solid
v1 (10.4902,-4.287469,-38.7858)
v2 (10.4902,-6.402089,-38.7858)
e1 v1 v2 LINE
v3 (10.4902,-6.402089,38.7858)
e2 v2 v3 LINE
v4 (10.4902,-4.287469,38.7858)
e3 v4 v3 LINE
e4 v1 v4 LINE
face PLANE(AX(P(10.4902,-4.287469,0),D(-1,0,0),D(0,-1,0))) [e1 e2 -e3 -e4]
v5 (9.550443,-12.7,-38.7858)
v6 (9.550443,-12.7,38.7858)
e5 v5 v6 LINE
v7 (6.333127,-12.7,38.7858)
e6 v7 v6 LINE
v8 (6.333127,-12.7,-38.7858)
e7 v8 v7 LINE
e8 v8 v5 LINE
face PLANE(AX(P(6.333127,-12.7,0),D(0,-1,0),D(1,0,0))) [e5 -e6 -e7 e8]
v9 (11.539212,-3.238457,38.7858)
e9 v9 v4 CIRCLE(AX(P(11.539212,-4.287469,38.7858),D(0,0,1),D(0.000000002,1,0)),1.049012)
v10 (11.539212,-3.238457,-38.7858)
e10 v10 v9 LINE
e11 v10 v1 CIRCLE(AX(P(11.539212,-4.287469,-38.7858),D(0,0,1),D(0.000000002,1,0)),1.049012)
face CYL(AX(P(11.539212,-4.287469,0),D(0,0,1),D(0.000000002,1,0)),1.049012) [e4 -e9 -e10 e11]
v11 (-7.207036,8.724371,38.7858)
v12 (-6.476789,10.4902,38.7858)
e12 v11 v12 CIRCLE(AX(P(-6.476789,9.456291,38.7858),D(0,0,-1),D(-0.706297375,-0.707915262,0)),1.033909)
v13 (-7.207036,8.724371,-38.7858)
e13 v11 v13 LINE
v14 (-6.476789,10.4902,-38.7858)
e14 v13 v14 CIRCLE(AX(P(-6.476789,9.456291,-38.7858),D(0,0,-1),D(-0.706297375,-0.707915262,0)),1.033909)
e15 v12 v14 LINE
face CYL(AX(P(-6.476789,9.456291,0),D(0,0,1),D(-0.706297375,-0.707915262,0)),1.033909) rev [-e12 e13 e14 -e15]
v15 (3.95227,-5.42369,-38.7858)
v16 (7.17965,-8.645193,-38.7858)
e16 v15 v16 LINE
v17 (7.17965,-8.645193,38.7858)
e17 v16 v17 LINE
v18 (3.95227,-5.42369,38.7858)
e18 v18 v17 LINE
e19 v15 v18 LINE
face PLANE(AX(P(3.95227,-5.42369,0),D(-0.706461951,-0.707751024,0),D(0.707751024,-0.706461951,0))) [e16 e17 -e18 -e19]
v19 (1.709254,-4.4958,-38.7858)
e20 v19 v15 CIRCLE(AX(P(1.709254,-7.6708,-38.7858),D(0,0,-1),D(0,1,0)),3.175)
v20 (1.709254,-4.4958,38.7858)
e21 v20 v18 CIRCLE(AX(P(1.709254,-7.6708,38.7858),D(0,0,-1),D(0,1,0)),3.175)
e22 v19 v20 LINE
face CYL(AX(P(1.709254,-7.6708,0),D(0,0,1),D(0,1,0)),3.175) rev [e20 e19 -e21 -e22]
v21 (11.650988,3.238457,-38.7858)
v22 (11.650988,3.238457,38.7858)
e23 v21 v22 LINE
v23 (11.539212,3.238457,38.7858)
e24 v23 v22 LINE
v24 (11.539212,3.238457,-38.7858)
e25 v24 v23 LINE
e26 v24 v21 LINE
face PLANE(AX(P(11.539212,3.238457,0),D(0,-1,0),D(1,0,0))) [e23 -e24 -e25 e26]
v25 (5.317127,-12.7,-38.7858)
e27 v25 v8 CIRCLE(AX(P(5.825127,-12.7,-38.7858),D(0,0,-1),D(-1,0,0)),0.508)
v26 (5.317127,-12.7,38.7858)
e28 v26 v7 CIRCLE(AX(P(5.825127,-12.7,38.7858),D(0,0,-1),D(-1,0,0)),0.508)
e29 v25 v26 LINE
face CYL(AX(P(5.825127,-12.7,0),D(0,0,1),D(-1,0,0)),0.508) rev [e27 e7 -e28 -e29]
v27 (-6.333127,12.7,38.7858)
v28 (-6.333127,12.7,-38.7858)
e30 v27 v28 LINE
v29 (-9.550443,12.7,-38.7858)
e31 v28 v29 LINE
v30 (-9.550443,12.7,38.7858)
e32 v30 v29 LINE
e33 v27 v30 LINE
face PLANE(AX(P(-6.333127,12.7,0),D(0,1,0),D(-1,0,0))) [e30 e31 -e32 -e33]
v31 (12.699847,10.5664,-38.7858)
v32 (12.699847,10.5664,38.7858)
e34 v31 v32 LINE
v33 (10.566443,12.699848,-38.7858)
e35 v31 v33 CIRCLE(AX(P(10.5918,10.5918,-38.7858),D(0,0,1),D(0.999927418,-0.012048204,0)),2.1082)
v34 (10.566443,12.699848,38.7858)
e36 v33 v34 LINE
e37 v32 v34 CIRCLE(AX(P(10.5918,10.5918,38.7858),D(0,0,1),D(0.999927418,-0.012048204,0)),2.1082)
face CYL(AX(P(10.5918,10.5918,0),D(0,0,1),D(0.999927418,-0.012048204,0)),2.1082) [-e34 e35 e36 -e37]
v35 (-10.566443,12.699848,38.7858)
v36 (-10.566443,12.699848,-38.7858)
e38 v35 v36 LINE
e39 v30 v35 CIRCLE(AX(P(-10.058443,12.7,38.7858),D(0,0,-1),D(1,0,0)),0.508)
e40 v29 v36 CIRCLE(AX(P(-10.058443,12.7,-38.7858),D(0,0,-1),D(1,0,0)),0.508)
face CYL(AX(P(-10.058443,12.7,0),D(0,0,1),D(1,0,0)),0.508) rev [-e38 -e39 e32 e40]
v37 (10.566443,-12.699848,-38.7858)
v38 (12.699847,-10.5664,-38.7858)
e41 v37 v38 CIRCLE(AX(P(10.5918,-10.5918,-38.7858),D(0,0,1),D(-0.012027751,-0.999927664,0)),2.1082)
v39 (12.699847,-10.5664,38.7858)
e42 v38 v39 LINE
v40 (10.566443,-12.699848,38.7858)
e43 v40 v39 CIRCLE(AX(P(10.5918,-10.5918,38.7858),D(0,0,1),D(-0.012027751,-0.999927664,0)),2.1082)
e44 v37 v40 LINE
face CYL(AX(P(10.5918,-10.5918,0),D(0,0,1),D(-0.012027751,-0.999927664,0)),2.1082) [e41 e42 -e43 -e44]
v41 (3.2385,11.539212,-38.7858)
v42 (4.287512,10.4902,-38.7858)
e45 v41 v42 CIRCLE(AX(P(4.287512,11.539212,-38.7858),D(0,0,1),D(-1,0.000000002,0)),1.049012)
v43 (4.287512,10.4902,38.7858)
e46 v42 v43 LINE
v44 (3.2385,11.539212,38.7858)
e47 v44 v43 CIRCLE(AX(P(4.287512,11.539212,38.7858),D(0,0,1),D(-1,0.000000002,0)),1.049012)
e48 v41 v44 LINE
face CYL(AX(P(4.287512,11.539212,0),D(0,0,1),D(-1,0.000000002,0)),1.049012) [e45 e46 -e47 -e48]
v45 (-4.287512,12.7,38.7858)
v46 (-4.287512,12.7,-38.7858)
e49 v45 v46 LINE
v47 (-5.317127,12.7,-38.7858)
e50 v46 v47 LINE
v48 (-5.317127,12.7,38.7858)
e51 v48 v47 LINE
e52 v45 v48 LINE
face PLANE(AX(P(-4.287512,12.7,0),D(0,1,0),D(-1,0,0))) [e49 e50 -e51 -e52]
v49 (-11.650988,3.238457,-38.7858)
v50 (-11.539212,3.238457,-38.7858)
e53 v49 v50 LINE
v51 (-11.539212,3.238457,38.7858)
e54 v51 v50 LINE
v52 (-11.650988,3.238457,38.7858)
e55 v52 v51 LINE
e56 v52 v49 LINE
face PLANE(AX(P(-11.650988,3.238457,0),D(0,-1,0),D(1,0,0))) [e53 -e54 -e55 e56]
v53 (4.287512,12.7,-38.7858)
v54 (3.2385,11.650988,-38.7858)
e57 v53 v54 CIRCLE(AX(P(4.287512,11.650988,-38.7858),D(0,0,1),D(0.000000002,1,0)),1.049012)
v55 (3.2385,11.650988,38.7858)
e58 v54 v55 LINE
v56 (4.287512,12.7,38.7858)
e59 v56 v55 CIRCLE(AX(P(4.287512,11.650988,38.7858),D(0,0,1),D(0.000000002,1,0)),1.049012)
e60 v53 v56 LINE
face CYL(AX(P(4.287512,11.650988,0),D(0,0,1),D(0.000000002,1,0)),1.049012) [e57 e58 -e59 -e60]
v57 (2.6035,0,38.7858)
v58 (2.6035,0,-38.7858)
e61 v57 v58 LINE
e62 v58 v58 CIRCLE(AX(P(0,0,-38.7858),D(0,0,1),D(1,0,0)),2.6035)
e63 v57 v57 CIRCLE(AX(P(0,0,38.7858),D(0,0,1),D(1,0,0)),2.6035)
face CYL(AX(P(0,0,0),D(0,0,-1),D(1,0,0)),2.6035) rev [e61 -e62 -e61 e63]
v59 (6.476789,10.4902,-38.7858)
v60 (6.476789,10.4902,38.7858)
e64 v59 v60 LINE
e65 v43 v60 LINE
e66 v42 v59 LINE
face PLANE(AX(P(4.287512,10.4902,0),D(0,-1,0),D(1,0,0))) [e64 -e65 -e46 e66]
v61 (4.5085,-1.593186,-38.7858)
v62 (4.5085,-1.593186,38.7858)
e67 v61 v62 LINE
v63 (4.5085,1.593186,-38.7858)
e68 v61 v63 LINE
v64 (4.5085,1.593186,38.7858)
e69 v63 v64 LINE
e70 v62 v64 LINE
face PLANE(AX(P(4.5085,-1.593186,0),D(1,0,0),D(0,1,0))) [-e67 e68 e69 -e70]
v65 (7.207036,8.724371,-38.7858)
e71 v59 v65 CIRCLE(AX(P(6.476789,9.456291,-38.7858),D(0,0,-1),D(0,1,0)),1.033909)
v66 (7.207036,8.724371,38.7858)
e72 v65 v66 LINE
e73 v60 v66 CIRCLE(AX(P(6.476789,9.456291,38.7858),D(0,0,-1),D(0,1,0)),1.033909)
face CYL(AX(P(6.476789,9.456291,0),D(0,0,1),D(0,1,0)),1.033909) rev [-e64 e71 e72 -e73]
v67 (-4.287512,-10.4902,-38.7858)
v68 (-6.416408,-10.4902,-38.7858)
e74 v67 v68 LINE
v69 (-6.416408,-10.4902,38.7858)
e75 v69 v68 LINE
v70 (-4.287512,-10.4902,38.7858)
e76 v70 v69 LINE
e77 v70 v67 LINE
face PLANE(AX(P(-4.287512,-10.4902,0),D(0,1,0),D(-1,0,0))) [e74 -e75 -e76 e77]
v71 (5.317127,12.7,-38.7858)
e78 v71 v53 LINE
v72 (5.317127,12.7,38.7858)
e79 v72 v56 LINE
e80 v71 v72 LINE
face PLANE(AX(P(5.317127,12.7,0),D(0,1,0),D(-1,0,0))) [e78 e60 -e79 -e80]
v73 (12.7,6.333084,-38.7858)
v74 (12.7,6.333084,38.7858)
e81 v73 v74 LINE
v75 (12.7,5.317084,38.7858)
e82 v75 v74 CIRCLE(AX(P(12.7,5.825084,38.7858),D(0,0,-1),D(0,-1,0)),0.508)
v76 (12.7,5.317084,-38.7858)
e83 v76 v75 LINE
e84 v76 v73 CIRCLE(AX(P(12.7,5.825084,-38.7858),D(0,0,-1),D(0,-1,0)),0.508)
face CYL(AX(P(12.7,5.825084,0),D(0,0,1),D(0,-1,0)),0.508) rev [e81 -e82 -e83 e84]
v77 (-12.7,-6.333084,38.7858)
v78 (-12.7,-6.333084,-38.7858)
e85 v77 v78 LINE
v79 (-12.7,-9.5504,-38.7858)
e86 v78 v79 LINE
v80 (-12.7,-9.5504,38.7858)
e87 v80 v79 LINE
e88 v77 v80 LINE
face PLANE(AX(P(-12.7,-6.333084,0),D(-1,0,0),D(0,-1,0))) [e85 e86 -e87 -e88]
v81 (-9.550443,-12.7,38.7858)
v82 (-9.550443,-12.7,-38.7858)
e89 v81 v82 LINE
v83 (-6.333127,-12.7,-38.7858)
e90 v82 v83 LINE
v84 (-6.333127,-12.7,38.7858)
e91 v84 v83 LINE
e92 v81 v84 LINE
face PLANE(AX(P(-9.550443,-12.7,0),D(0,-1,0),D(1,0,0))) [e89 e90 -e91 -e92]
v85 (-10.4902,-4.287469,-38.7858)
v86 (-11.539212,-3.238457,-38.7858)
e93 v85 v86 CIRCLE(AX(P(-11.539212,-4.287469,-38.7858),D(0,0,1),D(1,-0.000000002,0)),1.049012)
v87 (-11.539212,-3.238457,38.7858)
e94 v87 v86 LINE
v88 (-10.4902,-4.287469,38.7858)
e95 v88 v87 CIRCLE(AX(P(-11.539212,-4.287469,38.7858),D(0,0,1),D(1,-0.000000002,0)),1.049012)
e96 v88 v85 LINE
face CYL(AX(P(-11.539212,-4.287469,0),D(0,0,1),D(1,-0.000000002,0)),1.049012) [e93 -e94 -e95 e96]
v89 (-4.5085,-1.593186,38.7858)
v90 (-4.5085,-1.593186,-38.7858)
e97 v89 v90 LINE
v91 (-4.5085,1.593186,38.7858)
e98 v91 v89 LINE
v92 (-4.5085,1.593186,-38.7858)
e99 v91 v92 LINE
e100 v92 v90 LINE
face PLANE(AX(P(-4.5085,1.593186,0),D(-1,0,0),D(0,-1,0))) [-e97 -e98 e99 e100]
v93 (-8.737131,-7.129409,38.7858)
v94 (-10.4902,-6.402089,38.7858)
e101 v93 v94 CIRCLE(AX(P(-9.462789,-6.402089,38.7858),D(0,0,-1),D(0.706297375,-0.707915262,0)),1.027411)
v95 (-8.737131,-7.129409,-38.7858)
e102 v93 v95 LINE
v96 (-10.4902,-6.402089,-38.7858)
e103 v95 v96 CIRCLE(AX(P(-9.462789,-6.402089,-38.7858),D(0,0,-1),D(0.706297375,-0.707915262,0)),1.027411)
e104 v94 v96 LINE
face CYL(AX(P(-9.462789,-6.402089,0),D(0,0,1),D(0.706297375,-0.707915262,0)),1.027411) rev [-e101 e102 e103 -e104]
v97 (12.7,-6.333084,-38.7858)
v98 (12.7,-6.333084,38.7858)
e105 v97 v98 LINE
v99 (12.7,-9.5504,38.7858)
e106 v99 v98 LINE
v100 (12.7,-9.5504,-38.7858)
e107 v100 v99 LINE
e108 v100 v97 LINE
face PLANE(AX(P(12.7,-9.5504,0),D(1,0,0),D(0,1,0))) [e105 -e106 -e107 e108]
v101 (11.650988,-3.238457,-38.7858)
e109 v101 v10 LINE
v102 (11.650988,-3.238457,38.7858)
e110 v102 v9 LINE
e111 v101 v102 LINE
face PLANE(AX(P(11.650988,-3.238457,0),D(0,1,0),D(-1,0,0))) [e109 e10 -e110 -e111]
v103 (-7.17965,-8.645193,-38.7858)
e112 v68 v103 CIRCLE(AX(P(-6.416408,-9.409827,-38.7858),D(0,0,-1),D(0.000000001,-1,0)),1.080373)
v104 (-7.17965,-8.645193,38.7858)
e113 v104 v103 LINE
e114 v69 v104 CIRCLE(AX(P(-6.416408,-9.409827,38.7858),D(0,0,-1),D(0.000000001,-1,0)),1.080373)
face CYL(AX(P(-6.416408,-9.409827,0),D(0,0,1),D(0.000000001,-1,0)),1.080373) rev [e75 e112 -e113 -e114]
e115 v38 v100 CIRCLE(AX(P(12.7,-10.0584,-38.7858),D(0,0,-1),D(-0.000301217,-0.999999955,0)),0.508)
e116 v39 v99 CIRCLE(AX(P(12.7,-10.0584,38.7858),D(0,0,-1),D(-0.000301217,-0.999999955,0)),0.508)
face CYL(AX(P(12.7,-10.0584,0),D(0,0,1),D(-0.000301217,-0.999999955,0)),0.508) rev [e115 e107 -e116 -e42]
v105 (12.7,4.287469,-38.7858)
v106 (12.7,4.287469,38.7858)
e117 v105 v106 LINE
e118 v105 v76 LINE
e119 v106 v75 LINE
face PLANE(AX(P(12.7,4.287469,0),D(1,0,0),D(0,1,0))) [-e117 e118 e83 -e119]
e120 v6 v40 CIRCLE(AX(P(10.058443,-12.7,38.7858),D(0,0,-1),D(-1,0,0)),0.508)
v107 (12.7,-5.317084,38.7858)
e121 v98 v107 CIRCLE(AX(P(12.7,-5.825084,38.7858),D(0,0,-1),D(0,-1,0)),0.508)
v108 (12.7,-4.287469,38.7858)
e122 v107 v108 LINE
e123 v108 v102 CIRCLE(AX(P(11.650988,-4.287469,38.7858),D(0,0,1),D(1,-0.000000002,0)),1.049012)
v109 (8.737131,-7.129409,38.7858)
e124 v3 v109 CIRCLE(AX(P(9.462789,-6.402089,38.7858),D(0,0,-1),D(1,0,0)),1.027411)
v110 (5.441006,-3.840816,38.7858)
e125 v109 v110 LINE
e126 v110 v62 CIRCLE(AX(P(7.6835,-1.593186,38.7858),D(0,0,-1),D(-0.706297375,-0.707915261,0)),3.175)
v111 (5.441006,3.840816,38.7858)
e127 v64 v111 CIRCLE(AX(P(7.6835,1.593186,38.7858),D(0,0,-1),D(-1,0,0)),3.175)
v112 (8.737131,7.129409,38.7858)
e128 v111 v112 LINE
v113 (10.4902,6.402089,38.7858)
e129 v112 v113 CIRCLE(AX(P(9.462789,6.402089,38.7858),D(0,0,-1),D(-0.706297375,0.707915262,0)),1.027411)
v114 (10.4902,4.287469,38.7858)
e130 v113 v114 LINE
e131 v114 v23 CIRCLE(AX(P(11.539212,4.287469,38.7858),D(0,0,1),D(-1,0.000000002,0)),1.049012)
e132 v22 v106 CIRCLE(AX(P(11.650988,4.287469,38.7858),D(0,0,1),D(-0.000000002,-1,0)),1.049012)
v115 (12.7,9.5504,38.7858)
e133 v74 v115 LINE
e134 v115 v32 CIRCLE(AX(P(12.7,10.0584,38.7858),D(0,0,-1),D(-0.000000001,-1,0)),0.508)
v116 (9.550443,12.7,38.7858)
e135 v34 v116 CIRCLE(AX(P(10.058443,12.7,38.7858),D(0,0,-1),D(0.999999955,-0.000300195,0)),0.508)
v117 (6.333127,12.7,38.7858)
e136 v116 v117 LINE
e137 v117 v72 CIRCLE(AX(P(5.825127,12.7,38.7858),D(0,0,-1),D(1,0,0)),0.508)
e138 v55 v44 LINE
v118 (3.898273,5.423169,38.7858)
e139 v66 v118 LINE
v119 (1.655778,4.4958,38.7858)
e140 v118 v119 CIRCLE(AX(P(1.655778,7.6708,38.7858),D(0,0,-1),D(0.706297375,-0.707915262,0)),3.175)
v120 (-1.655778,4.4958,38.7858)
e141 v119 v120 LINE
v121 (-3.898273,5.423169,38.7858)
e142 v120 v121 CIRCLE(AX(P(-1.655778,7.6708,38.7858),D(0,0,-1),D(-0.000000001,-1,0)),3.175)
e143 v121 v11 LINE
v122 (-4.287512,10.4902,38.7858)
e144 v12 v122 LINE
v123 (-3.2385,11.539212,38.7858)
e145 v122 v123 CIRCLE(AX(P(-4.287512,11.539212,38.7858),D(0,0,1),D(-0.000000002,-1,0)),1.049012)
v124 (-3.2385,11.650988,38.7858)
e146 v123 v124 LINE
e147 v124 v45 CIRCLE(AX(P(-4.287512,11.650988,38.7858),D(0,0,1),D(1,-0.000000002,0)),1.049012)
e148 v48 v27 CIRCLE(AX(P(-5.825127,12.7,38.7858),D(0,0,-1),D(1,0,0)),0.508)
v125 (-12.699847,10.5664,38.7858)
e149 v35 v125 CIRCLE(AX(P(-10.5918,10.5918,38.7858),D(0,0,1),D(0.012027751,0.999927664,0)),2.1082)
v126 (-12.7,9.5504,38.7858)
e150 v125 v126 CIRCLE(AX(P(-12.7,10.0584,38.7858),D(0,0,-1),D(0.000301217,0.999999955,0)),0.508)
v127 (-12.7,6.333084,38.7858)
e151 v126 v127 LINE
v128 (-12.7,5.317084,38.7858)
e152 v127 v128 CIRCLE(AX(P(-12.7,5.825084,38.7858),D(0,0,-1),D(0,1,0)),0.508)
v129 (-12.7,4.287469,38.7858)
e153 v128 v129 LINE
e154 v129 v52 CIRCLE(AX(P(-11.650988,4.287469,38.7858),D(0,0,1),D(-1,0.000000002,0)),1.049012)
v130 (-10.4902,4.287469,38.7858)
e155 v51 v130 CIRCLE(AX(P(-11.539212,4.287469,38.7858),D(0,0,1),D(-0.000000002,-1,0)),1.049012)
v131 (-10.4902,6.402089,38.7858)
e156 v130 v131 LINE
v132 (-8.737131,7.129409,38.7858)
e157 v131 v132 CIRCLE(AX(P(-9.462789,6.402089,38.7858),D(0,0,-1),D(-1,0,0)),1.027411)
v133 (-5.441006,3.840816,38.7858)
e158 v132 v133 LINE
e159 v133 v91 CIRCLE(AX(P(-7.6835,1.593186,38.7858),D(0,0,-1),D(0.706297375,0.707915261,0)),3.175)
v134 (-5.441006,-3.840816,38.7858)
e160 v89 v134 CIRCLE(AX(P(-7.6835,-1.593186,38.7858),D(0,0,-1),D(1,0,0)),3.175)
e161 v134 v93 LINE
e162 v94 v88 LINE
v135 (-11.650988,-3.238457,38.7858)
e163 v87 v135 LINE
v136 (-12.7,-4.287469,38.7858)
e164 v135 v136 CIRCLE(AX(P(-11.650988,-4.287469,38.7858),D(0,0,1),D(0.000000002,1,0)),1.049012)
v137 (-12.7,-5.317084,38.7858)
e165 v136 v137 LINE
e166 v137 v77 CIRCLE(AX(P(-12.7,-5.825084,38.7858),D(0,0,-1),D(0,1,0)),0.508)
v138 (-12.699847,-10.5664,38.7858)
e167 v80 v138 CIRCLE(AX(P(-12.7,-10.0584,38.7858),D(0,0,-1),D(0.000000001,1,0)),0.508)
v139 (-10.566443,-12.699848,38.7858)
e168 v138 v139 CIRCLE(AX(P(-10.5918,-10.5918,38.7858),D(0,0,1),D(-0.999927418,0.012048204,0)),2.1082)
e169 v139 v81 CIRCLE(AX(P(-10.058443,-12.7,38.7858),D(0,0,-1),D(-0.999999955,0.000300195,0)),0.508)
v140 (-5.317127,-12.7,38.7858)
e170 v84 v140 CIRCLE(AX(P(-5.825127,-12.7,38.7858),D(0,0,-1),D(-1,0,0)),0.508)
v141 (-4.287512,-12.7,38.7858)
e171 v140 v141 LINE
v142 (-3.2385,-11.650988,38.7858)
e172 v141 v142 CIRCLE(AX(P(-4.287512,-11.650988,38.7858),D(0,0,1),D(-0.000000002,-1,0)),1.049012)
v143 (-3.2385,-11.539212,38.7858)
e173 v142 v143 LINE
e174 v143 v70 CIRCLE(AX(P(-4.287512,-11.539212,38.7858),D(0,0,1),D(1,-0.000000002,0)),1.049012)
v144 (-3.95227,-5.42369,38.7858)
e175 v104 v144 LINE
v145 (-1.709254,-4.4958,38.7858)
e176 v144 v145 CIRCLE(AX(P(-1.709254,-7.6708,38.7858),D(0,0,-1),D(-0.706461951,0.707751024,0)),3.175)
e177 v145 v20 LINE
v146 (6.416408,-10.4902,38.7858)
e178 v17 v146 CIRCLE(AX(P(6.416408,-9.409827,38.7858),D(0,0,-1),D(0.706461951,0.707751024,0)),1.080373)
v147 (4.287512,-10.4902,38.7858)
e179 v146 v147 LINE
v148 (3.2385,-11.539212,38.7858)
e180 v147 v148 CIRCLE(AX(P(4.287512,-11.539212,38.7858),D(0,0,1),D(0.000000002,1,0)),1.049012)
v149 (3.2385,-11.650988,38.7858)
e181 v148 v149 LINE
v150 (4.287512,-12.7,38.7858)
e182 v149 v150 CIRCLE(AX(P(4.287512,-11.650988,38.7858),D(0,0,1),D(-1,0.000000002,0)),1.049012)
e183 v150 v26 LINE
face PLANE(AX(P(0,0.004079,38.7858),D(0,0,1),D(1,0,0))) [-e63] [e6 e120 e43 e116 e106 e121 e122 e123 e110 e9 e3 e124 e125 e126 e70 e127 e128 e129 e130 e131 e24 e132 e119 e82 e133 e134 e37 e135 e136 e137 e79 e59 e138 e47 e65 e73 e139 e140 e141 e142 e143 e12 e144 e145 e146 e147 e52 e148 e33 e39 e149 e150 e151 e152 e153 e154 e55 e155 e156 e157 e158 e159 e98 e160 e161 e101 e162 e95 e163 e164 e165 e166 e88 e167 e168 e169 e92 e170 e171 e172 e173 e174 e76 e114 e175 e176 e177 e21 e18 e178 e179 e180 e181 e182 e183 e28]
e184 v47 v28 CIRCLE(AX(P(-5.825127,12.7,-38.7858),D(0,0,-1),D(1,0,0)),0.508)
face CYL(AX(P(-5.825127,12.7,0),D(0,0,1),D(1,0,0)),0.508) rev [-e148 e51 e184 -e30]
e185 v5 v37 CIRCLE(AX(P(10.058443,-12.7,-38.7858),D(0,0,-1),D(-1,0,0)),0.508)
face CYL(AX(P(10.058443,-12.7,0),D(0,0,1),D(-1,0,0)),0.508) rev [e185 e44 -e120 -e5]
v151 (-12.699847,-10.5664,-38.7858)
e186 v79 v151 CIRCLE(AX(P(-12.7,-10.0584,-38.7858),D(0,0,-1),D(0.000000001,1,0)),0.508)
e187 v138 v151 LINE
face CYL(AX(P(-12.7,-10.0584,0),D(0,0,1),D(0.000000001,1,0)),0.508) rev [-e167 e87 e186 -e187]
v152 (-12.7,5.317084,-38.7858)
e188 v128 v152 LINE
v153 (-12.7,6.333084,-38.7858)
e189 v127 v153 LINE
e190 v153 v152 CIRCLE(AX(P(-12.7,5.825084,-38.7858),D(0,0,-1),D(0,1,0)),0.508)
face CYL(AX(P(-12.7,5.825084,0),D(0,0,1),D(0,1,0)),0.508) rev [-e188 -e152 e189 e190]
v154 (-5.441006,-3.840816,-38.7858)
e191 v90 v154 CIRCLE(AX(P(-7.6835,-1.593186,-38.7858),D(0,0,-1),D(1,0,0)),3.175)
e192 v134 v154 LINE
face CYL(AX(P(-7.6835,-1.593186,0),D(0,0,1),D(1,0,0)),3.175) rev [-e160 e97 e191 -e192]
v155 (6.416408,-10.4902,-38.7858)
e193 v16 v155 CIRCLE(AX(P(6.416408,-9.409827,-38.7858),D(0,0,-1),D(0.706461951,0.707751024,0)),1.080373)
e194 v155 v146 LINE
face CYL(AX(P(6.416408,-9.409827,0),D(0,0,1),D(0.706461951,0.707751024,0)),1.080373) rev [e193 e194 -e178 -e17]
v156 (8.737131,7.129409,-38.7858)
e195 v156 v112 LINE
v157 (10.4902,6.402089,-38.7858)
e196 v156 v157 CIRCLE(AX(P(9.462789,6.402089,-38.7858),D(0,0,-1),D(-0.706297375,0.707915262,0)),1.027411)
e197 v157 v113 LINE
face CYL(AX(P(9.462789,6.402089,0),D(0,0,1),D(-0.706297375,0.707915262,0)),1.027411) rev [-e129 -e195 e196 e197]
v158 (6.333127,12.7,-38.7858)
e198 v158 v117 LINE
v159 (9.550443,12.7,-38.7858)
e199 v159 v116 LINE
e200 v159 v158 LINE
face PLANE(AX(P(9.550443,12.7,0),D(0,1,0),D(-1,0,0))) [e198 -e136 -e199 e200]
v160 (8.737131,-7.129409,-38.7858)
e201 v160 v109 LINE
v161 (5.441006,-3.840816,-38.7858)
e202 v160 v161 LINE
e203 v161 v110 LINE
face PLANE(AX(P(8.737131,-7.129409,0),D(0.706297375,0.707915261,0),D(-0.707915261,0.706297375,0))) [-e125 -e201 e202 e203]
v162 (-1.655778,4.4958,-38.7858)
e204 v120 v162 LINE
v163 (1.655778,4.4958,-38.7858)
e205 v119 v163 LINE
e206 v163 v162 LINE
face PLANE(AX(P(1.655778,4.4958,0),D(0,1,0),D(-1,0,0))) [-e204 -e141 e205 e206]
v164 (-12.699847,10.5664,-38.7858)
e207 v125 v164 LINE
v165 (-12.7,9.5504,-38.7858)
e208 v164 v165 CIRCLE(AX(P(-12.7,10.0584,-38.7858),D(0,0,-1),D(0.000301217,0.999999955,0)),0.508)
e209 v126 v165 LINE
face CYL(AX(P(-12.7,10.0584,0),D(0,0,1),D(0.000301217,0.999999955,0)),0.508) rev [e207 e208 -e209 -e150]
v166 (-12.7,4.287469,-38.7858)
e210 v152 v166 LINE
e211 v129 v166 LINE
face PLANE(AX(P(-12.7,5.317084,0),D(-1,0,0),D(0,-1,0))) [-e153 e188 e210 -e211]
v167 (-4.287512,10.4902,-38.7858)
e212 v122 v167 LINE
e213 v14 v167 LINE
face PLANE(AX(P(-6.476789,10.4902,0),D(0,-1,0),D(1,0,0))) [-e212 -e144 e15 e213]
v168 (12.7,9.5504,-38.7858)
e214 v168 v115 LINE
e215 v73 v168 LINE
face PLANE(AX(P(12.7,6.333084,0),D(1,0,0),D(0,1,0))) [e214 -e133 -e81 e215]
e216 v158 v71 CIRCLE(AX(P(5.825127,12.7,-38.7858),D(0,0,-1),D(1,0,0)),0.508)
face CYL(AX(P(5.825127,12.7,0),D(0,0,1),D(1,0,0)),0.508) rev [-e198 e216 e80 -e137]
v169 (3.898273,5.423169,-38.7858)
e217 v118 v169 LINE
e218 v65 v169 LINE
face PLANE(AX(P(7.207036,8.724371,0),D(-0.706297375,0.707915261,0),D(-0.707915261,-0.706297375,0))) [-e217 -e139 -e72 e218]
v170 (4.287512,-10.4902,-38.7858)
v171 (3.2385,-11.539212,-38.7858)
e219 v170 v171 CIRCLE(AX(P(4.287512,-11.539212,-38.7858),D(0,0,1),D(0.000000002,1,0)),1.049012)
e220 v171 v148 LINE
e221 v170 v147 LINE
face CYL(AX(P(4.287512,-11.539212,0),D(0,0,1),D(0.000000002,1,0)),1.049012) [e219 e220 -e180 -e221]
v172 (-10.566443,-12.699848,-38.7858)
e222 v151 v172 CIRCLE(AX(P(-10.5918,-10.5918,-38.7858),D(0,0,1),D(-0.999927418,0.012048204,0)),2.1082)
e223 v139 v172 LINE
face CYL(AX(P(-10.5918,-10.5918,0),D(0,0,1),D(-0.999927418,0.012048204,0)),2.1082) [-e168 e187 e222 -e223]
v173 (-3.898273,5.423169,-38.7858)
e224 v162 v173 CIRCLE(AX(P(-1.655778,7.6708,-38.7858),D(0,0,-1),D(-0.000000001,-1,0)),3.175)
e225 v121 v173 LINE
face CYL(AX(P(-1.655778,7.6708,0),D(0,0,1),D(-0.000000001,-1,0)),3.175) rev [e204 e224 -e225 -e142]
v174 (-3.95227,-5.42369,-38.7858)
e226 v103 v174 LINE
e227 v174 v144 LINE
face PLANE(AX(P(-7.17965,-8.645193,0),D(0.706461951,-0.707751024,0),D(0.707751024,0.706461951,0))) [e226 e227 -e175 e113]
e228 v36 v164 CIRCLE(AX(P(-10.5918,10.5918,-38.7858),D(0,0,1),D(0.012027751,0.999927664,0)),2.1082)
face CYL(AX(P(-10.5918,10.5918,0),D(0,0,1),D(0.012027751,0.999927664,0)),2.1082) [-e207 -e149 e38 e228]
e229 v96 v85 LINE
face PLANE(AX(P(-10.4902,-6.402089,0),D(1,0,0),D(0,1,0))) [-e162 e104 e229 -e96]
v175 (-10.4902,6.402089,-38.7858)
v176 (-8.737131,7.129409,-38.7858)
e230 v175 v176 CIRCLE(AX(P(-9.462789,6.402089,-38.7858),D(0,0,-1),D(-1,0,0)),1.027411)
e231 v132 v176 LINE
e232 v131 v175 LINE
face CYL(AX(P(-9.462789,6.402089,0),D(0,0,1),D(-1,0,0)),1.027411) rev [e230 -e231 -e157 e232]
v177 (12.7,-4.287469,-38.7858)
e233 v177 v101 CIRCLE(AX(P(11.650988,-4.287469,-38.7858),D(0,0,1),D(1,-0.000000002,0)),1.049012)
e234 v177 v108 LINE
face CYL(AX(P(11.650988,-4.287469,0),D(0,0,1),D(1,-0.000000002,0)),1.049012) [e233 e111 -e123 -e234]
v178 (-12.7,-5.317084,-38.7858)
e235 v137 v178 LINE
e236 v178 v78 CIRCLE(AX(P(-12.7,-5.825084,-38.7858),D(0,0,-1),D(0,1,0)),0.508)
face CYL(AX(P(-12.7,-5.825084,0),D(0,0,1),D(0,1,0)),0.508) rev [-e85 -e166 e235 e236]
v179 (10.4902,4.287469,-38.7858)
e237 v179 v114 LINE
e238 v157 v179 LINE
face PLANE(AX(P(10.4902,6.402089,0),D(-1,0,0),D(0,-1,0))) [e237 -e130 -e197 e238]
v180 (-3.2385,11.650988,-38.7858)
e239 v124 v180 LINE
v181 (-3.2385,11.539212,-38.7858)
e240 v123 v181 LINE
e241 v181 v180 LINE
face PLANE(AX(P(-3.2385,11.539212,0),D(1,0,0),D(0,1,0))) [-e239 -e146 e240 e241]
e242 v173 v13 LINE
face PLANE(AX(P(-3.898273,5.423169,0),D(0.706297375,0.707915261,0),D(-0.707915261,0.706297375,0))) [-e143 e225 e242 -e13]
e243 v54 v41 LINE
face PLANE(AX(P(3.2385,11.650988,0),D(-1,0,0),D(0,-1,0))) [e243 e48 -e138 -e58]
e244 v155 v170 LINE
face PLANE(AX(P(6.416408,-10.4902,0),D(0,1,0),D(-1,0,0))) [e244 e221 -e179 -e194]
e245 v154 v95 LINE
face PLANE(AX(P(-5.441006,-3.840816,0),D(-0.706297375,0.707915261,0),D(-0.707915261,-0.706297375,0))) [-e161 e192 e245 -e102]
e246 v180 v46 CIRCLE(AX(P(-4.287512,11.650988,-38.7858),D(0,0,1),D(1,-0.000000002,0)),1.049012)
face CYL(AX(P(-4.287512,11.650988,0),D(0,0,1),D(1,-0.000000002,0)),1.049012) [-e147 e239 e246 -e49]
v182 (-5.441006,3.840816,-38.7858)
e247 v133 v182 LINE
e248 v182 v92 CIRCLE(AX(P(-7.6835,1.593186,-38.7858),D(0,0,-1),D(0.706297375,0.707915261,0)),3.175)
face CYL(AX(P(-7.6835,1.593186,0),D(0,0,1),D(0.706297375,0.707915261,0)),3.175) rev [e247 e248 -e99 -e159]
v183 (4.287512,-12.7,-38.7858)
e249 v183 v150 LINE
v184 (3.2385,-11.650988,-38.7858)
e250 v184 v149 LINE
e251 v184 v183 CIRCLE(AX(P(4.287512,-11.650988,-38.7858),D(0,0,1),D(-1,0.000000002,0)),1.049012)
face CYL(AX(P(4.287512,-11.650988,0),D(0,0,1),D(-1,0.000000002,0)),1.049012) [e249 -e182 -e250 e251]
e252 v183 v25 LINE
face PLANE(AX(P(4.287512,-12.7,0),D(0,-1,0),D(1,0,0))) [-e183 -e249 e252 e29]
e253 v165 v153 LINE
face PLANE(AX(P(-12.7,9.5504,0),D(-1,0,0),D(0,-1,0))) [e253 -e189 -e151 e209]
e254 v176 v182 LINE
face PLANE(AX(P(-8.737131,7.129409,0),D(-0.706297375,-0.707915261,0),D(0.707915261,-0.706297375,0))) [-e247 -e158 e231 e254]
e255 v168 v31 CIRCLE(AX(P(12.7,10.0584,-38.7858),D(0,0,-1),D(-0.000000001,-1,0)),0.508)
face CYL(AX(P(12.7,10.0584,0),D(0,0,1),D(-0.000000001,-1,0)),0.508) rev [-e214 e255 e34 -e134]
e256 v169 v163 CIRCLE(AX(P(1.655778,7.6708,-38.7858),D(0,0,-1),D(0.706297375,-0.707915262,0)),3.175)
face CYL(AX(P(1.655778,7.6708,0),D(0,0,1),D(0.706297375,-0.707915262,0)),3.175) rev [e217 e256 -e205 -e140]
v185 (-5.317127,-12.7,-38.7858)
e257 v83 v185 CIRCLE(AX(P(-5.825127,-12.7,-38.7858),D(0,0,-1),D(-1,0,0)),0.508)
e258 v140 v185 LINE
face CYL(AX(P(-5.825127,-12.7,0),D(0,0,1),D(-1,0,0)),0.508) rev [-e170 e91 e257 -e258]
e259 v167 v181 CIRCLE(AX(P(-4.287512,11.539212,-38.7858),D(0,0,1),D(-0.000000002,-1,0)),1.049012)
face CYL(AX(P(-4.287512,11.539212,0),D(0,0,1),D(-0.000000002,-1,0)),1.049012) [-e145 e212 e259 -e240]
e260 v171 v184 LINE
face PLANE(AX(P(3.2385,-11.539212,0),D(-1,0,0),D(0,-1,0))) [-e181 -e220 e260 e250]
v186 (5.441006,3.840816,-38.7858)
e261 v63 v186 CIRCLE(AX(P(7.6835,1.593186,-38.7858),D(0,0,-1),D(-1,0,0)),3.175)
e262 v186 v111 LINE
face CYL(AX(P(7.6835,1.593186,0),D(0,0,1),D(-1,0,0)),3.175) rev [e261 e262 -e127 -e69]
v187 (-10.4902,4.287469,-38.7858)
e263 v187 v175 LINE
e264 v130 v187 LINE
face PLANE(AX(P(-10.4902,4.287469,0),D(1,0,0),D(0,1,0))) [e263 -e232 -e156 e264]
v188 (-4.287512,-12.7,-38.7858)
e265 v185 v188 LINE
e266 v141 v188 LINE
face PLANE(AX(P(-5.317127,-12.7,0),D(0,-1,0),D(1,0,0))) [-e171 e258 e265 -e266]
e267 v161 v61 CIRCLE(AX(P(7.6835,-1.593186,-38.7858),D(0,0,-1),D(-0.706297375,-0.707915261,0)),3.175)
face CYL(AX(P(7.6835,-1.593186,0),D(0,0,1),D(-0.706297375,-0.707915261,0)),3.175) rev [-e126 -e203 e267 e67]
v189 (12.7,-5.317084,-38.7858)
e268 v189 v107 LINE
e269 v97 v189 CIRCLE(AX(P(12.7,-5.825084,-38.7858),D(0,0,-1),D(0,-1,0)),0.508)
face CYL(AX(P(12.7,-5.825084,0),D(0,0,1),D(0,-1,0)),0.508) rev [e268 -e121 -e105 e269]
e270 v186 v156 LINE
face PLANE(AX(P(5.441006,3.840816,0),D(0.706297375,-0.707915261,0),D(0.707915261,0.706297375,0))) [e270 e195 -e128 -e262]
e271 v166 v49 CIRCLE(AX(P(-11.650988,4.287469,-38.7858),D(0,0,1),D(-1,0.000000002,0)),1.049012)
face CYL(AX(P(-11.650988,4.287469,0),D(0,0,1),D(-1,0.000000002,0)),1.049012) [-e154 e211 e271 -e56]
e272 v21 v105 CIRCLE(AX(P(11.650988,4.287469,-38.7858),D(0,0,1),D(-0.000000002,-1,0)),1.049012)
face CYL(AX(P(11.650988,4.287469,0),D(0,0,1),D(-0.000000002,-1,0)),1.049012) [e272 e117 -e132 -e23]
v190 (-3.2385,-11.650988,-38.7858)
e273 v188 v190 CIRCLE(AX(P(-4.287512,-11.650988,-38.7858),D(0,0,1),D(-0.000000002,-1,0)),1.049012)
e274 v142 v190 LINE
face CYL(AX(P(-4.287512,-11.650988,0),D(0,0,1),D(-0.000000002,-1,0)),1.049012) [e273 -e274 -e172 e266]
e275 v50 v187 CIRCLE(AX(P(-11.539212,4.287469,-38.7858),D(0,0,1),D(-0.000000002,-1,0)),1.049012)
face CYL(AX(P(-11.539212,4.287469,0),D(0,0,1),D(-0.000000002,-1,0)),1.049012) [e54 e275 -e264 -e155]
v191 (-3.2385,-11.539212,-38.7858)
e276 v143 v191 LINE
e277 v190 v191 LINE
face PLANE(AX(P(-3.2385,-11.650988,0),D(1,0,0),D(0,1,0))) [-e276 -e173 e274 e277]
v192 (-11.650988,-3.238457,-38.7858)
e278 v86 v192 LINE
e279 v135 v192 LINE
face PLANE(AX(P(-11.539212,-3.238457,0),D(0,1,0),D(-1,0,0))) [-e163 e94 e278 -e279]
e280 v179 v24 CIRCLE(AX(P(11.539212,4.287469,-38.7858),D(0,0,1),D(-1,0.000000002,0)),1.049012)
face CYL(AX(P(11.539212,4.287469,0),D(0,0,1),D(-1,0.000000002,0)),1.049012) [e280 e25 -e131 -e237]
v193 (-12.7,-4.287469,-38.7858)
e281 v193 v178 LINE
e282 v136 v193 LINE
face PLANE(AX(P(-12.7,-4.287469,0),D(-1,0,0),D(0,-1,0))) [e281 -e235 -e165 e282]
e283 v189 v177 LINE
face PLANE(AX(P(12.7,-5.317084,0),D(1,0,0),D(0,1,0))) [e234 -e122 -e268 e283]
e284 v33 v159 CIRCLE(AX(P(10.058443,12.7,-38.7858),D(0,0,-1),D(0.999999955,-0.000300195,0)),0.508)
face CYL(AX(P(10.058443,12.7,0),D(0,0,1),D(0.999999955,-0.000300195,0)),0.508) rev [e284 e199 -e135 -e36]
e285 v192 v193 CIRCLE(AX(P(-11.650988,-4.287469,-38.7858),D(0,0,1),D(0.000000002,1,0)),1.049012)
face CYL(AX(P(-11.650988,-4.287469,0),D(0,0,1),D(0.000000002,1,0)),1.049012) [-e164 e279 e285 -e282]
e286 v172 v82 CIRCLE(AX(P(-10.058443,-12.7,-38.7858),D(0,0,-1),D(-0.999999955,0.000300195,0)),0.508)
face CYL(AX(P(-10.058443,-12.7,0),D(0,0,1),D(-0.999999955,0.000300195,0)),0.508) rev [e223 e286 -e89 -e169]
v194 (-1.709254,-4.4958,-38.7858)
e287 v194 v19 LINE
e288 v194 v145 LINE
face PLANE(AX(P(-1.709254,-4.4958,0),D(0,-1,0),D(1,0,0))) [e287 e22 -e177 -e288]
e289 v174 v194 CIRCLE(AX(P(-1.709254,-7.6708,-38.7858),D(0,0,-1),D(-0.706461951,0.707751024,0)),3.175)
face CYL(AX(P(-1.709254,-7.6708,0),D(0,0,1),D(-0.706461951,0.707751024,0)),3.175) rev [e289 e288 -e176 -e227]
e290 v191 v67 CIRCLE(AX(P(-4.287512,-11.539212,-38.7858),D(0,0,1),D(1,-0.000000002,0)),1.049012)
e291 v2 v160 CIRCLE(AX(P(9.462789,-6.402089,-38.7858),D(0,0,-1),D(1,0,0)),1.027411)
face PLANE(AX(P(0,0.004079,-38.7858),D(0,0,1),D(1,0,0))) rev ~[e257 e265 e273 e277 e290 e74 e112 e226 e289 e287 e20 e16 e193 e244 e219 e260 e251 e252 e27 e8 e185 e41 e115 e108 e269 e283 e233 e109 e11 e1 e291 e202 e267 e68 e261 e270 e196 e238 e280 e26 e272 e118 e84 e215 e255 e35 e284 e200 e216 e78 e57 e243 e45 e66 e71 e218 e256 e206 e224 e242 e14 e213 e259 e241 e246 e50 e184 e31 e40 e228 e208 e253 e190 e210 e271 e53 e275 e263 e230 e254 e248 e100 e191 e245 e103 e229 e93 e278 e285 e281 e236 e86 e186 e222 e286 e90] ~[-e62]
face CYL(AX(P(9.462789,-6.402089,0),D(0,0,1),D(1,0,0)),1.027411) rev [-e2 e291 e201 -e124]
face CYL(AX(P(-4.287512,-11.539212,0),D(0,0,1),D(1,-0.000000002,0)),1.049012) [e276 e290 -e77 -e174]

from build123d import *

# Parameters (mm, degrees)
SKETCH1_R           = 2.6035
BOSS_EXTRUDE1_DEPTH = 38.7858


with BuildPart() as part:
    # Sketch1 → Boss-Extrude1 (new, symmetric)
    with BuildSketch(Plane.XY):
        with BuildLine():
            Line((-7.179650497, -8.645192506), (-3.952270251, -5.423690499))
            ThreePointArc((-3.952270251, -5.423690499), (-2.922936451, -4.736929036), (-1.709253557, -4.4958))
            Line((-1.709253557, -4.4958), (1.709253557, -4.4958))
            ThreePointArc((1.709253557, -4.4958), (2.922936451, -4.736929036), (3.952270251, -5.423690499))
            Line((3.952270251, -5.423690499), (7.179650497, -8.645192506))
            ThreePointArc((7.179650497, -8.645192506), (7.41473083, -9.822813117), (6.416408329, -10.4902))
            Line((6.416408329, -10.4902), (4.287512407, -10.4902))
            ThreePointArc((4.287512407, -10.4902), (3.54574862, -10.79744862), (3.2385, -11.539212407))
            Line((3.2385, -11.539212407), (3.2385, -11.650987593))
            ThreePointArc((3.2385, -11.650987593), (3.54574862, -12.39275138), (4.287512407, -12.7))
            Line((4.287512407, -12.7), (5.317126718, -12.7))
            ThreePointArc((5.317126718, -12.7), (5.825126718, -12.192), (6.333126718, -12.7))
            Line((6.333126718, -12.7), (9.550443118, -12.7))
            ThreePointArc((9.550443118, -12.7), (10.058366869, -12.192000006), (10.566443095, -12.699847501))
            ThreePointArc((10.566443095, -12.699847501), (12.082537762, -12.08250727), (12.699846982, -10.566399977))
            ThreePointArc((12.699846982, -10.566399977), (12.192000006, -10.058323491), (12.7, -9.5504))
            Line((12.7, -9.5504), (12.7, -6.3330836))
            ThreePointArc((12.7, -6.3330836), (12.192, -5.8250836), (12.7, -5.3170836))
            Line((12.7, -5.3170836), (12.7, -4.287469289))
            ThreePointArc((12.7, -4.287469289), (12.39275138, -3.545705502), (11.650987593, -3.238456882))
            Line((11.650987593, -3.238456882), (11.539212407, -3.238456882))
            ThreePointArc((11.539212407, -3.238456882), (10.79744862, -3.545705502), (10.4902, -4.287469289))
            Line((10.4902, -4.287469289), (10.4902, -6.402089023))
            ThreePointArc((10.4902, -6.402089023), (9.856505071, -7.351067942), (8.737131347, -7.129408934))
            Line((8.737131347, -7.129408934), (5.441005833, -3.840816462))
            ThreePointArc((5.441005833, -3.840816462), (4.750877967, -2.809883091), (4.5085, -1.593185507))
            Line((4.5085, -1.593185507), (4.5085, 1.593185507))
            ThreePointArc((4.5085, 1.593185507), (4.750877967, 2.809883091), (5.441005833, 3.840816462))
            Line((5.441005833, 3.840816462), (8.737131347, 7.129408934))
            ThreePointArc((8.737131347, 7.129408934), (9.856505071, 7.351067942), (10.4902, 6.402089023))
            Line((10.4902, 6.402089023), (10.4902, 4.287469289))
            ThreePointArc((10.4902, 4.287469289), (10.79744862, 3.545705502), (11.539212407, 3.238456882))
            Line((11.539212407, 3.238456882), (11.650987593, 3.238456882))
            ThreePointArc((11.650987593, 3.238456882), (12.39275138, 3.545705502), (12.7, 4.287469289))
            Line((12.7, 4.287469289), (12.7, 5.3170836))
            ThreePointArc((12.7, 5.3170836), (12.192, 5.8250836), (12.7, 6.3330836))
            Line((12.7, 6.3330836), (12.7, 9.5504))
            ThreePointArc((12.7, 9.5504), (12.192000006, 10.058323491), (12.699846982, 10.566399977))
            ThreePointArc((12.699846982, 10.566399977), (12.082537762, 12.08250727), (10.566443095, 12.699847501))
            ThreePointArc((10.566443095, 12.699847501), (10.058366869, 12.192000006), (9.550443118, 12.7))
            Line((9.550443118, 12.7), (6.333126718, 12.7))
            ThreePointArc((6.333126718, 12.7), (5.825126718, 12.192), (5.317126718, 12.7))
            Line((5.317126718, 12.7), (4.287512407, 12.7))
            ThreePointArc((4.287512407, 12.7), (3.54574862, 12.39275138), (3.2385, 11.650987593))
            Line((3.2385, 11.650987593), (3.2385, 11.539212407))
            ThreePointArc((3.2385, 11.539212407), (3.54574862, 10.79744862), (4.287512407, 10.4902))
            Line((4.287512407, 10.4902), (6.476788598, 10.4902))
            ThreePointArc((6.476788598, 10.4902), (7.432222385, 9.85140422), (7.207036008, 8.724370562))
            Line((7.207036008, 8.724370562), (3.898272566, 5.423169045))
            ThreePointArc((3.898272566, 5.423169045), (2.869120213, 4.736787962), (1.655778399, 4.4958))
            Line((1.655778399, 4.4958), (-1.655778399, 4.4958))
            ThreePointArc((-1.655778399, 4.4958), (-2.869120213, 4.736787962), (-3.898272566, 5.423169045))
            Line((-3.898272566, 5.423169045), (-7.207036008, 8.724370562))
            ThreePointArc((-7.207036008, 8.724370562), (-7.432222385, 9.85140422), (-6.476788598, 10.4902))
            Line((-6.476788598, 10.4902), (-4.287512407, 10.4902))
            ThreePointArc((-4.287512407, 10.4902), (-3.54574862, 10.79744862), (-3.2385, 11.539212407))
            Line((-3.2385, 11.539212407), (-3.2385, 11.650987593))
            ThreePointArc((-3.2385, 11.650987593), (-3.54574862, 12.39275138), (-4.287512407, 12.7))
            Line((-4.287512407, 12.7), (-5.317126718, 12.7))
            ThreePointArc((-5.317126718, 12.7), (-5.825126718, 12.192), (-6.333126718, 12.7))
            Line((-6.333126718, 12.7), (-9.550443118, 12.7))
            ThreePointArc((-9.550443118, 12.7), (-10.058366869, 12.192000006), (-10.566443095, 12.699847501))
            ThreePointArc((-10.566443095, 12.699847501), (-12.082537762, 12.08250727), (-12.699846982, 10.566399977))
            ThreePointArc((-12.699846982, 10.566399977), (-12.192000006, 10.058323491), (-12.7, 9.5504))
            Line((-12.7, 9.5504), (-12.7, 6.3330836))
            ThreePointArc((-12.7, 6.3330836), (-12.192, 5.8250836), (-12.7, 5.3170836))
            Line((-12.7, 5.3170836), (-12.7, 4.287469289))
            ThreePointArc((-12.7, 4.287469289), (-12.39275138, 3.545705502), (-11.650987593, 3.238456882))
            Line((-11.650987593, 3.238456882), (-11.539212407, 3.238456882))
            ThreePointArc((-11.539212407, 3.238456882), (-10.79744862, 3.545705502), (-10.4902, 4.287469289))
            Line((-10.4902, 4.287469289), (-10.4902, 6.402089023))
            ThreePointArc((-10.4902, 6.402089023), (-9.856505071, 7.351067942), (-8.737131347, 7.129408934))
            Line((-8.737131347, 7.129408934), (-5.441005833, 3.840816462))
            ThreePointArc((-5.441005833, 3.840816462), (-4.750877967, 2.809883091), (-4.5085, 1.593185507))
            Line((-4.5085, 1.593185507), (-4.5085, -1.593185507))
            ThreePointArc((-4.5085, -1.593185507), (-4.750877967, -2.809883091), (-5.441005833, -3.840816462))
            Line((-5.441005833, -3.840816462), (-8.737131347, -7.129408934))
            ThreePointArc((-8.737131347, -7.129408934), (-9.856505071, -7.351067942), (-10.4902, -6.402089023))
            Line((-10.4902, -6.402089023), (-10.4902, -4.287469289))
            ThreePointArc((-10.4902, -4.287469289), (-10.79744862, -3.545705502), (-11.539212407, -3.238456882))
            Line((-11.539212407, -3.238456882), (-11.650987593, -3.238456882))
            ThreePointArc((-11.650987593, -3.238456882), (-12.39275138, -3.545705502), (-12.7, -4.287469289))
            Line((-12.7, -4.287469289), (-12.7, -5.3170836))
            ThreePointArc((-12.7, -5.3170836), (-12.192, -5.8250836), (-12.7, -6.3330836))
            Line((-12.7, -6.3330836), (-12.7, -9.5504))
            ThreePointArc((-12.7, -9.5504), (-12.192000006, -10.058323491), (-12.699846982, -10.566399977))
            ThreePointArc((-12.699846982, -10.566399977), (-12.082537762, -12.08250727), (-10.566443095, -12.699847501))
            ThreePointArc((-10.566443095, -12.699847501), (-10.058366869, -12.192000006), (-9.550443118, -12.7))
            Line((-9.550443118, -12.7), (-6.333126718, -12.7))
            ThreePointArc((-6.333126718, -12.7), (-5.825126718, -12.192), (-5.317126718, -12.7))
            Line((-5.317126718, -12.7), (-4.287512407, -12.7))
            ThreePointArc((-4.287512407, -12.7), (-3.54574862, -12.39275138), (-3.2385, -11.650987593))
            Line((-3.2385, -11.650987593), (-3.2385, -11.539212407))
            ThreePointArc((-3.2385, -11.539212407), (-3.54574862, -10.79744862), (-4.287512407, -10.4902))
            Line((-4.287512407, -10.4902), (-6.416408329, -10.4902))
            ThreePointArc((-6.416408329, -10.4902), (-7.41473083, -9.822813117), (-7.179650497, -8.645192506))
        make_face()
        Circle(SKETCH1_R, mode=Mode.SUBTRACT)
    extrude(amount=BOSS_EXTRUDE1_DEPTH, both=True)


solid = part.part
